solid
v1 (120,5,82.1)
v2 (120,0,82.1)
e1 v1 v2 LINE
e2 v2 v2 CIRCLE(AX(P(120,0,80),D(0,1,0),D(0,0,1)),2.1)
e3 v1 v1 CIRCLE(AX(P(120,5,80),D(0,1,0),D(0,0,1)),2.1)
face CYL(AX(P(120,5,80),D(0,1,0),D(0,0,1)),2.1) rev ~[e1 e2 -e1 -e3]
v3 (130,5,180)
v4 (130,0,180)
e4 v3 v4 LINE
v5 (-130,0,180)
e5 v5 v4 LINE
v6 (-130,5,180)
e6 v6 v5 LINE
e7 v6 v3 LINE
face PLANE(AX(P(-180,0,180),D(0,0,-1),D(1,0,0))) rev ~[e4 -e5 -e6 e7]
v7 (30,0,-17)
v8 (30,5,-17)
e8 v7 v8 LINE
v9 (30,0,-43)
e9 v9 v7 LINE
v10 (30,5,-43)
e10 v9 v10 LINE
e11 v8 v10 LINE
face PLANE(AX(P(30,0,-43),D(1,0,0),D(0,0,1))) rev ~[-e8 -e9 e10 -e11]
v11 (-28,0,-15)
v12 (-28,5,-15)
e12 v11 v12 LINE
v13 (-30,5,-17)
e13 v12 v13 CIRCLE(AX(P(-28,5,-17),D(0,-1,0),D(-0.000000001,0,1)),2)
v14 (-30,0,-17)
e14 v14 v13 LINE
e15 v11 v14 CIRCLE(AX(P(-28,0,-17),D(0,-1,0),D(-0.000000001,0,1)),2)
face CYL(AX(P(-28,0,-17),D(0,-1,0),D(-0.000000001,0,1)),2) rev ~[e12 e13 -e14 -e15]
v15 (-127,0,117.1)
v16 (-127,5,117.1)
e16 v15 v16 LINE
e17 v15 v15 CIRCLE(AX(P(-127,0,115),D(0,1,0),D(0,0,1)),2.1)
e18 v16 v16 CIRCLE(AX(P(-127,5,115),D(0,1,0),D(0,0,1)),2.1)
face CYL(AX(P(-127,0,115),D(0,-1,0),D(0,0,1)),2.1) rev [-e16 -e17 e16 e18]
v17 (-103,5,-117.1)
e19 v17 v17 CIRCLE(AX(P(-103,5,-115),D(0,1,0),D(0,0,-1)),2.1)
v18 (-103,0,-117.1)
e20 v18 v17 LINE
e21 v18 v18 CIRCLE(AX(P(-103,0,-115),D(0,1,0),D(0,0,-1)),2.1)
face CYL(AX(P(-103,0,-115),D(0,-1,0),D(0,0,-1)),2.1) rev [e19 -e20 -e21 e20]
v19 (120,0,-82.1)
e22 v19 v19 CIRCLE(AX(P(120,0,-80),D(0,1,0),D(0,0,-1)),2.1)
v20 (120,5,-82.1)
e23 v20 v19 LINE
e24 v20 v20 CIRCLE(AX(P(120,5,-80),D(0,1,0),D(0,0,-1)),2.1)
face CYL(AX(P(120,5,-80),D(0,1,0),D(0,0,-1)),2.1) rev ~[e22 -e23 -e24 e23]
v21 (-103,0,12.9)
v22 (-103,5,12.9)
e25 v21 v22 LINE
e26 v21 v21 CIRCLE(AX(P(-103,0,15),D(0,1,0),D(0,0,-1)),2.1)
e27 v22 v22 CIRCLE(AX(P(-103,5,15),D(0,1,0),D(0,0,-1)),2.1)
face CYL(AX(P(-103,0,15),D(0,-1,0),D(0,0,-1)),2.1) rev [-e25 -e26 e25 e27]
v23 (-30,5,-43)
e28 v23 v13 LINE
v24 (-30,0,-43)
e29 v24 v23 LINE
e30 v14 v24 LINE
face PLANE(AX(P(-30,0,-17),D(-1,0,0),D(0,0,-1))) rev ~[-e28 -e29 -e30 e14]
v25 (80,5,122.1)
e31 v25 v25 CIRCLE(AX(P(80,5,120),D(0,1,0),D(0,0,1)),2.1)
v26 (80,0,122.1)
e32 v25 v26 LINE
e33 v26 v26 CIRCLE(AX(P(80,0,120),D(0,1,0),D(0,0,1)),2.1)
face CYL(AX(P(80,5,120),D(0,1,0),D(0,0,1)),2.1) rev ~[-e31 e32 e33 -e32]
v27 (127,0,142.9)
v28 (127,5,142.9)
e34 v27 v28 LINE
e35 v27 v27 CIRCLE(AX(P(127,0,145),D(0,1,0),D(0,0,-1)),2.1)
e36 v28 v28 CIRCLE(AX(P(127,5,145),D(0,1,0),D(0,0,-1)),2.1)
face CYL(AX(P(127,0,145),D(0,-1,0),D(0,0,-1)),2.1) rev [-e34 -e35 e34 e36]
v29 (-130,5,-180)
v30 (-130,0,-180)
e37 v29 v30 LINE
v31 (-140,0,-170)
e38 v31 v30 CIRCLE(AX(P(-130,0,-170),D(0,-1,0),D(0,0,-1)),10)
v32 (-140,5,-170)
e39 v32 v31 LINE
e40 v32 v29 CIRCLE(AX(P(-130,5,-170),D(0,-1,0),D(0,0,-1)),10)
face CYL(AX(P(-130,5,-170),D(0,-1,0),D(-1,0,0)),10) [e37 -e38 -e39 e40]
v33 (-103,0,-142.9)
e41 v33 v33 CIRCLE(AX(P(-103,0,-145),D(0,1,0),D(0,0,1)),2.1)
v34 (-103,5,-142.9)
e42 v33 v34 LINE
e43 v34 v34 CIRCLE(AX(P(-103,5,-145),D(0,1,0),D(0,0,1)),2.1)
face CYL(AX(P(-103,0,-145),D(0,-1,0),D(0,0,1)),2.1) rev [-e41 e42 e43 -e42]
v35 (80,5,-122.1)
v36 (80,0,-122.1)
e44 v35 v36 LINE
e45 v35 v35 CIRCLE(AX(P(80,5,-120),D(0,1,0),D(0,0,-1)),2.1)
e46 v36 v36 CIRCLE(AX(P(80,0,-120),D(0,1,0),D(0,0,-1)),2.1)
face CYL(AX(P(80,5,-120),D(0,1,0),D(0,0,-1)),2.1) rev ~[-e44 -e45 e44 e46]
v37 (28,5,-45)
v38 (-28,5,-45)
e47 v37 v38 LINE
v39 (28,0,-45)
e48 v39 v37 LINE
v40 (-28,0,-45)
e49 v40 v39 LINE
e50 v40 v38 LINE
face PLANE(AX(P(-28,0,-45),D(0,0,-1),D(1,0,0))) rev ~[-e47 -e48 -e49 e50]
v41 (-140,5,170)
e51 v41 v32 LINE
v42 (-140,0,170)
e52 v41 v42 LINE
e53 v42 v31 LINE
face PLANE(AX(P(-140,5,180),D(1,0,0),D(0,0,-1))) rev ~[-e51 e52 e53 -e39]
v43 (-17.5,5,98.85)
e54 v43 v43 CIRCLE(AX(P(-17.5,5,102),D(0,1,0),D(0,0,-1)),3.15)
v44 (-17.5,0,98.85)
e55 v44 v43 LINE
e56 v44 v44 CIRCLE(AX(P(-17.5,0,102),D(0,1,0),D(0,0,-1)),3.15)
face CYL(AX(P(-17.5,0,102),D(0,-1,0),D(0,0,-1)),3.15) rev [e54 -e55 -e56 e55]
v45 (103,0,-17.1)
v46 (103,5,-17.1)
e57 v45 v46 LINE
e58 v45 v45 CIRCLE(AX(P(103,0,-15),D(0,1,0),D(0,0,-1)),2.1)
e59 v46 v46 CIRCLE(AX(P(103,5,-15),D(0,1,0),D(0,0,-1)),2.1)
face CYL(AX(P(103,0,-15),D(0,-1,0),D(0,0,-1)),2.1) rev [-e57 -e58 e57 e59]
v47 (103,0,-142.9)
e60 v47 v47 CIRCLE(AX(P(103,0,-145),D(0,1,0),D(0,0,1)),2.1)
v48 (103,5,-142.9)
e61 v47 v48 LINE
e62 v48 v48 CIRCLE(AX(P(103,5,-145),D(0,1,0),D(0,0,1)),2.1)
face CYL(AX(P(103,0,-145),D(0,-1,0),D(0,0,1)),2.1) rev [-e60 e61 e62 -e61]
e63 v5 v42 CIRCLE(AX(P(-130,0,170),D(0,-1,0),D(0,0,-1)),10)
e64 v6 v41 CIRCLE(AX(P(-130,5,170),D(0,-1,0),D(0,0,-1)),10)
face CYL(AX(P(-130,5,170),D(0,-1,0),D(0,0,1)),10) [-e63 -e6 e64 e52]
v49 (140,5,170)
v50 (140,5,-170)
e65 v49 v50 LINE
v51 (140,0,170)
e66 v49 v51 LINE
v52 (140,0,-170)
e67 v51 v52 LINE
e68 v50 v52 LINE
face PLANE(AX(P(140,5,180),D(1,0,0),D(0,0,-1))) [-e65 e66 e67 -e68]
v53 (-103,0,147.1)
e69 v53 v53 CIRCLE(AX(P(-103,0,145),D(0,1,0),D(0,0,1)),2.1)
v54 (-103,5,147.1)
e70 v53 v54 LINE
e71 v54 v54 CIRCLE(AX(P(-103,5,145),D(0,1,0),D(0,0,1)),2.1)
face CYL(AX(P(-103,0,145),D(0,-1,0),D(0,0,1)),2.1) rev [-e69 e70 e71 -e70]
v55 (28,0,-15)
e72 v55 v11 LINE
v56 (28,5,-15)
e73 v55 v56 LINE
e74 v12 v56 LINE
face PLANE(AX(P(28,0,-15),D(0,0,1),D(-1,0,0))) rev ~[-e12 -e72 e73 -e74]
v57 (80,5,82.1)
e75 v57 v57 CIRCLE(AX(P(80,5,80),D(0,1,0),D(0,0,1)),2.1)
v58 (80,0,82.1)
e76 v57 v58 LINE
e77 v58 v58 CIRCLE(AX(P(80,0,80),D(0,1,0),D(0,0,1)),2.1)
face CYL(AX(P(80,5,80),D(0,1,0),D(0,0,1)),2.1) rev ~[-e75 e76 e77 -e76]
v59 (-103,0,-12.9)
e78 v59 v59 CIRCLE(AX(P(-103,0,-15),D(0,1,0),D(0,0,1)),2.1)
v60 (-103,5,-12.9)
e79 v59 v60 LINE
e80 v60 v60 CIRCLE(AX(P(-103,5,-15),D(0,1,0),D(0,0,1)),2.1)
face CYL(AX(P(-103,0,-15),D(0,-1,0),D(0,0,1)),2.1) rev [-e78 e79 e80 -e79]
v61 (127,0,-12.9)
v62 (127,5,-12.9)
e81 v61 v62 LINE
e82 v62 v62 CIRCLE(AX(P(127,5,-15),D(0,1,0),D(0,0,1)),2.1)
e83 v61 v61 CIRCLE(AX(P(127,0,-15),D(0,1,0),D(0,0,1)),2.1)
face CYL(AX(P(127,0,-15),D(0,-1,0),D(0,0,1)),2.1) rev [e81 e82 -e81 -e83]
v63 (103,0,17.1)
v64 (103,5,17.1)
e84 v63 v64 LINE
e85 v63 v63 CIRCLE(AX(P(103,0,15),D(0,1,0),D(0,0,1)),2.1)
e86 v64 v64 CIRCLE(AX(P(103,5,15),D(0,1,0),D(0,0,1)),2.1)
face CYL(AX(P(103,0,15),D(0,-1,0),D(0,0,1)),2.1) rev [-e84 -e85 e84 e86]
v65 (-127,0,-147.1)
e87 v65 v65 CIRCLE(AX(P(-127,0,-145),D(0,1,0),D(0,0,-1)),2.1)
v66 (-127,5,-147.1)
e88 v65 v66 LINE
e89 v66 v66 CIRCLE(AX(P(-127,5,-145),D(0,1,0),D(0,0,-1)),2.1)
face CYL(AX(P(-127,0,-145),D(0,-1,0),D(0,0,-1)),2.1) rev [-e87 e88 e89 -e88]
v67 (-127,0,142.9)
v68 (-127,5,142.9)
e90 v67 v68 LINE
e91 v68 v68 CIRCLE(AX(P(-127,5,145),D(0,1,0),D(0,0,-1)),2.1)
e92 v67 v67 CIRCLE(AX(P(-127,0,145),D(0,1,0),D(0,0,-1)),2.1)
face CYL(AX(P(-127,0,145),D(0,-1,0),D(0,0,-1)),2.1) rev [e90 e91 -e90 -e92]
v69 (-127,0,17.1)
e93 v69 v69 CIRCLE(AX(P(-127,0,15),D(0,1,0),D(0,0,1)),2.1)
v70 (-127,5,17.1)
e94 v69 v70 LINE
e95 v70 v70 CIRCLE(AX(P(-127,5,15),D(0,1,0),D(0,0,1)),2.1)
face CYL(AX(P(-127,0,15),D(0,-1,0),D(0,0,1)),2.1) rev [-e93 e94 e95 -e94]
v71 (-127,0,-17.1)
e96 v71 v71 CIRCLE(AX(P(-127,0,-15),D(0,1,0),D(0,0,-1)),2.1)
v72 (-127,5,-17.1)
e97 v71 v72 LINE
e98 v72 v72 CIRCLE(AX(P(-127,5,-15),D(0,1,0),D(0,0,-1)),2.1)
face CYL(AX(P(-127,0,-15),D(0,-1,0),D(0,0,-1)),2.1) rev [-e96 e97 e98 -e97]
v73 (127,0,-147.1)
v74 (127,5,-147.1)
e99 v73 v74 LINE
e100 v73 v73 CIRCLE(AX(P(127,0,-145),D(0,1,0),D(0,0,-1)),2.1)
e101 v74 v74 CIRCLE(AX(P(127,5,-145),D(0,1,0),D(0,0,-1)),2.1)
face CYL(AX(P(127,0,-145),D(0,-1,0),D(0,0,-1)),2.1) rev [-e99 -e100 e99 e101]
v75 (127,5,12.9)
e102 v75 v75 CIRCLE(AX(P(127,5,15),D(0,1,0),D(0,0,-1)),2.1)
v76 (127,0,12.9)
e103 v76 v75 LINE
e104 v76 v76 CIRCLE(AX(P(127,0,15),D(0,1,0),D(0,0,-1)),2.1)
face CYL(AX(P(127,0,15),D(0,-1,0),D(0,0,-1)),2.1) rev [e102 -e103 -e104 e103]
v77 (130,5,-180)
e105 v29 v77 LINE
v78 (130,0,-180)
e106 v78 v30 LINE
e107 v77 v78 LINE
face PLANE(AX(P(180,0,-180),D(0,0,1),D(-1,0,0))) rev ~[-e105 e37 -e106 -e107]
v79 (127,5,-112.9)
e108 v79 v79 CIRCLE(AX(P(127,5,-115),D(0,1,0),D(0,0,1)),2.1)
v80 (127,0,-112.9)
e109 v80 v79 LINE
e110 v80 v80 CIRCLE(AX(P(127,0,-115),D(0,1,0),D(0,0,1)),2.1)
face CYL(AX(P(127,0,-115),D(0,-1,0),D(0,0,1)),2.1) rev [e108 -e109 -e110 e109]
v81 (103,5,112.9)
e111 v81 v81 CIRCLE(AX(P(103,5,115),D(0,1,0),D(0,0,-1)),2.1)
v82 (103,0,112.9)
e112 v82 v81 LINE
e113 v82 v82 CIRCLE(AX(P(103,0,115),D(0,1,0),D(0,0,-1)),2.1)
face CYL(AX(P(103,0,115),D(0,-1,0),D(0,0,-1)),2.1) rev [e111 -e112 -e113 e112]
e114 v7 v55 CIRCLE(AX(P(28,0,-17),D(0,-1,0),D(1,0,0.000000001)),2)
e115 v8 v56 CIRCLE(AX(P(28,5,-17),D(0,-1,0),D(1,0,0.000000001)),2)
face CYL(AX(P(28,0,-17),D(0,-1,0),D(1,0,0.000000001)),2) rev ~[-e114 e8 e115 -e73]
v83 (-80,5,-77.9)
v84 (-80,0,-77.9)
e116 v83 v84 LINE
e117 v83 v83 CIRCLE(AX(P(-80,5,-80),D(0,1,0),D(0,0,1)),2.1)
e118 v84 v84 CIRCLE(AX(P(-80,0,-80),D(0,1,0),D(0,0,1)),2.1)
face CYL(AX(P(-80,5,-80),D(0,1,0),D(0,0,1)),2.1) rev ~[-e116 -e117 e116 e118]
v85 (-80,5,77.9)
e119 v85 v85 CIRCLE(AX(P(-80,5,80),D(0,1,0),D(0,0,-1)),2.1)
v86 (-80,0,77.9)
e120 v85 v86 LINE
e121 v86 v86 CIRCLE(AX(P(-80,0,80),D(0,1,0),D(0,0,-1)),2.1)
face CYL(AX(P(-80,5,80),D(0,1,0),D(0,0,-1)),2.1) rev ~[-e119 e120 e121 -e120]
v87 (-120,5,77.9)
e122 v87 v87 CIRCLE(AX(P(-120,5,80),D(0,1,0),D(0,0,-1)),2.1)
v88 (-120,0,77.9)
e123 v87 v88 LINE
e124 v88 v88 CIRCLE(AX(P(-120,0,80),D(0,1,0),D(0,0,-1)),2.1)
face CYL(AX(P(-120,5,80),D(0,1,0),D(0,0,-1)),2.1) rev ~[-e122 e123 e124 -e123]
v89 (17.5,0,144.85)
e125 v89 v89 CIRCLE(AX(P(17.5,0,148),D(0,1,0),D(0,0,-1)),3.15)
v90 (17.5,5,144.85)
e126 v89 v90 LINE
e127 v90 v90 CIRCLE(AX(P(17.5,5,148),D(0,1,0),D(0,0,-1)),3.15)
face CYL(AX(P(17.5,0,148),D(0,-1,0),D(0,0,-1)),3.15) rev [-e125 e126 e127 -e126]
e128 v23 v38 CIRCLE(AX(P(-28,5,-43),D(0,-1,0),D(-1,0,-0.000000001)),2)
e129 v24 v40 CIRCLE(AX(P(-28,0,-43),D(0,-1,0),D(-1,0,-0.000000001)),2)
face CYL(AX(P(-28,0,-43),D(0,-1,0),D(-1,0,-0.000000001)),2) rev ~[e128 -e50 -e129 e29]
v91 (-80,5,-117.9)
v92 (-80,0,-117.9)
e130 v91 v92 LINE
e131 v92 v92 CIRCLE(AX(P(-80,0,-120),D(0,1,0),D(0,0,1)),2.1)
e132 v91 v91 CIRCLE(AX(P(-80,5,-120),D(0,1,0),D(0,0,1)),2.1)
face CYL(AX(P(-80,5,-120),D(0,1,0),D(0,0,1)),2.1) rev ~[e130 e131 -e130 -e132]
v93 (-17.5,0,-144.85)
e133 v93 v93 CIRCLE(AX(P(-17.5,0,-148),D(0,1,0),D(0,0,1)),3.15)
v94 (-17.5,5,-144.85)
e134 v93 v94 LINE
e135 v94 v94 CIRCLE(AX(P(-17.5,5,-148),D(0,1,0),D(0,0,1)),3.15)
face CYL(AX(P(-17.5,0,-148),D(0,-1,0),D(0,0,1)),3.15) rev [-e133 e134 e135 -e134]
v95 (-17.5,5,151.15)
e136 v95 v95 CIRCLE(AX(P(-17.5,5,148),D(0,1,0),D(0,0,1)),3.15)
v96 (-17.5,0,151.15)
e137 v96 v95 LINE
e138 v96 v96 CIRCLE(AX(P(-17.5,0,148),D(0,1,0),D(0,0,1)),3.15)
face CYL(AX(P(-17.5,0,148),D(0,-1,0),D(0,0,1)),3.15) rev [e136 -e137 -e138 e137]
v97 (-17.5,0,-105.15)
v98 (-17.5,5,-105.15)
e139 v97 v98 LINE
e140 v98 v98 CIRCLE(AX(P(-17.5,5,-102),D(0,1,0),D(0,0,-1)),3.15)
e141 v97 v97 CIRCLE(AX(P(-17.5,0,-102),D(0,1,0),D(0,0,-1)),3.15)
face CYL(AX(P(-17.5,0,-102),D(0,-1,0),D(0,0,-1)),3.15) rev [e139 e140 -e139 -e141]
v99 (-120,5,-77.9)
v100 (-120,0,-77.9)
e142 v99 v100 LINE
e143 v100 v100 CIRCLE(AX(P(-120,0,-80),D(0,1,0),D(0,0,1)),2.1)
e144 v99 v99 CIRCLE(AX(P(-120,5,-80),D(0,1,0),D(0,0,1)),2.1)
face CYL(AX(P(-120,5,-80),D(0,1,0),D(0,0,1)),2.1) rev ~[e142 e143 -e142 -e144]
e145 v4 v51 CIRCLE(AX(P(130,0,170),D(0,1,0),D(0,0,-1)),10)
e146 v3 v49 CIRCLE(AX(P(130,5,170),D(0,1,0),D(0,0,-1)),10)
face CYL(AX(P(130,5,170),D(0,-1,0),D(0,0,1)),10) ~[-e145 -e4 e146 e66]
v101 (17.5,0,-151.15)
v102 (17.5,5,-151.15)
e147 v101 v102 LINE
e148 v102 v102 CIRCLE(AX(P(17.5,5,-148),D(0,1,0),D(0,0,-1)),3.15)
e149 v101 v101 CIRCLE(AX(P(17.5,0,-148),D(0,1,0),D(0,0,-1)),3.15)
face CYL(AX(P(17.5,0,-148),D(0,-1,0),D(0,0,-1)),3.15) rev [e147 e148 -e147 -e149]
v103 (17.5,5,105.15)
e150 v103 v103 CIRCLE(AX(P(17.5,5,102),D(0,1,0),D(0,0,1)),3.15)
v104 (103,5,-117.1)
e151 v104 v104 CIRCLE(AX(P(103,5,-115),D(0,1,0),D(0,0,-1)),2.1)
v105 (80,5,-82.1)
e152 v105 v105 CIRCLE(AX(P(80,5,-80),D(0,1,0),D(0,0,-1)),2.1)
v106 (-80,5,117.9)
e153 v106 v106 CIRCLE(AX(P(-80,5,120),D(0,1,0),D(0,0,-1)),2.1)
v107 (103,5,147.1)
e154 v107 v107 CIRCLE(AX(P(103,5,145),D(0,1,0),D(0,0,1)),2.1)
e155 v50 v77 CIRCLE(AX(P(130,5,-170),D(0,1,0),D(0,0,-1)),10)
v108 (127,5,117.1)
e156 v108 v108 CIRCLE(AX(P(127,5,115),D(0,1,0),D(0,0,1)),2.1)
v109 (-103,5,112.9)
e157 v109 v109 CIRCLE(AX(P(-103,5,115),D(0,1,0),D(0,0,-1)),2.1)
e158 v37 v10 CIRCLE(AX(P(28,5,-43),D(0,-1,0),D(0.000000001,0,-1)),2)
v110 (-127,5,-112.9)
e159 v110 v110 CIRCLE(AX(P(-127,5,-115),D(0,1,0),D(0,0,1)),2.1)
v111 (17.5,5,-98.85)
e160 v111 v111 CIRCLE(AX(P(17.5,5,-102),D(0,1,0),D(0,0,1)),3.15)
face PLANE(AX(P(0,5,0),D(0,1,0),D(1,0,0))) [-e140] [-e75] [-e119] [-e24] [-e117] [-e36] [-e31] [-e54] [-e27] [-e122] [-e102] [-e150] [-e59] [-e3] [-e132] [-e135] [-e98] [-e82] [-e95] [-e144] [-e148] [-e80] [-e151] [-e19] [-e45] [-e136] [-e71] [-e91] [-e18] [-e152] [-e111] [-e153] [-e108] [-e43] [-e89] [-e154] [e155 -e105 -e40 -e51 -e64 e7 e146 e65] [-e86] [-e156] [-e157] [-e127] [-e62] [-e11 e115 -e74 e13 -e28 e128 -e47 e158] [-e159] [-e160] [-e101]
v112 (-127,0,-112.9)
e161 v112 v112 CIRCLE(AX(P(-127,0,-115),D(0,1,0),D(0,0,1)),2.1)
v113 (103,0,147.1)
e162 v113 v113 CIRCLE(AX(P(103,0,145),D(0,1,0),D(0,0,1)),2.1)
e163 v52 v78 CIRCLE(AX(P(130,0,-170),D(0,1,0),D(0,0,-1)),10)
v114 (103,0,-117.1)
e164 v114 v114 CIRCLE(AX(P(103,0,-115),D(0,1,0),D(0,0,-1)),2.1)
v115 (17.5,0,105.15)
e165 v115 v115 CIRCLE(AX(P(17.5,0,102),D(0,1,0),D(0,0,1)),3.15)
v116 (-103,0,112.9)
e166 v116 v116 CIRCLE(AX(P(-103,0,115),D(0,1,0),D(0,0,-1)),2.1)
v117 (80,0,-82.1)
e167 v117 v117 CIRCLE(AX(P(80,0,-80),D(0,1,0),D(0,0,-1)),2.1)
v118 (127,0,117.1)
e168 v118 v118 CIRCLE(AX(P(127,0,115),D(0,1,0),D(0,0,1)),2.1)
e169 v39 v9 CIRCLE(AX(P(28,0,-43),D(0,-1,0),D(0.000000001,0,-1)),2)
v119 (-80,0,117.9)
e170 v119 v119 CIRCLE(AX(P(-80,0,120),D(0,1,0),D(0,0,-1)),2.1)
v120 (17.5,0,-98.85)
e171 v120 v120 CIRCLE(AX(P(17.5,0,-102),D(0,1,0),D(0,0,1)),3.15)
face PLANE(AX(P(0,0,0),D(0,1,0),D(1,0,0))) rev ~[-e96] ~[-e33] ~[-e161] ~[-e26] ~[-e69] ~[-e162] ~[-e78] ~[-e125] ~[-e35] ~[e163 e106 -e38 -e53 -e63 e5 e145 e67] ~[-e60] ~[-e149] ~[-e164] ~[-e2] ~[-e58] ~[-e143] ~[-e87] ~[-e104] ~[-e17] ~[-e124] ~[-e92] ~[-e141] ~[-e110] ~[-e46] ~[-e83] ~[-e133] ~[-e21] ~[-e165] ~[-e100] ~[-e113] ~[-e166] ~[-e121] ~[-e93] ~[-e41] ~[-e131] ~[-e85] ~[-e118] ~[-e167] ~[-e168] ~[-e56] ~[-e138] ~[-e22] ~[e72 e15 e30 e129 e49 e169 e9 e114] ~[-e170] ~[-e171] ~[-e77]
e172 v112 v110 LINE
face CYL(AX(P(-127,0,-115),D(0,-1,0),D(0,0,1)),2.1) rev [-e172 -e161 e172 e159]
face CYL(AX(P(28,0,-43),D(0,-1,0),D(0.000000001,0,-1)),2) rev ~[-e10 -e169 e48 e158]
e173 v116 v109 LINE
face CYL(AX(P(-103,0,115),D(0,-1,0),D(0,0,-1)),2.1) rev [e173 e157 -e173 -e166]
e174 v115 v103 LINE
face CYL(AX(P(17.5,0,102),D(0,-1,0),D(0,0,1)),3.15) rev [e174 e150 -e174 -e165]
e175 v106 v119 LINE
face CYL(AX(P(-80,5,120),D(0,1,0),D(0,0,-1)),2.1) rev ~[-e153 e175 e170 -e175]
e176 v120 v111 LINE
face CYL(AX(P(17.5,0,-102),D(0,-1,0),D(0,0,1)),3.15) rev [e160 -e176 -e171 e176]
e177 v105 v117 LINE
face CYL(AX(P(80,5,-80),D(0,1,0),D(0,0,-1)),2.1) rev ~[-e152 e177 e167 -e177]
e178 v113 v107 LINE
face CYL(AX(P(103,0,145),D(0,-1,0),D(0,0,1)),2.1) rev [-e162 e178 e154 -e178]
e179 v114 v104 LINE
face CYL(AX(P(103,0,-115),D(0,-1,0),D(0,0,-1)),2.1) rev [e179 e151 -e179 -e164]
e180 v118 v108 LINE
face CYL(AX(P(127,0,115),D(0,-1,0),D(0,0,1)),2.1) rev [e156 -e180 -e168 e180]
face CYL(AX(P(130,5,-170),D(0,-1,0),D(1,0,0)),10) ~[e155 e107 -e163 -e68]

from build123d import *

# Parameters (mm, degrees)
SKETCH_1_R           = 2.1
SKETCH_1_R_2         = 3.15
EXTRUDE_1_DEPTH      = 5
SKETCH_2_OUTSIDE_W   = 463.828
SKETCH_2_OUTSIDE_H   = 463.828
SKETCH_2_OUTSIDE_W_2 = 280
SKETCH_2_OUTSIDE_H_2 = 360
CUT_EXTRUDE_2_DEPTH  = 10
SKETCH_3_R           = 2.1
CUT_EXTRUDE_3_DEPTH  = 229.089894559
CUT_EXTRUDE_5_DEPTH  = 10
FILLET_1_R           = 10


with BuildPart() as part:
    # 草图1 → 凸台-拉伸1 (new body)
    with BuildSketch(Plane(origin=(0, 0, 0), x_dir=(1, 0, 0), z_dir=(0, 1, 0))):
        Polygon((-180, -180), (180, -180), (180, -160), (141, -160), (141, -100), (180, -100), (180, -30), (141, -30), (141, 30), (180, 30), (180, 100), (141, 100), (141, 160), (180, 160), (180, 180), (-180, 180), (-180, 160), (-141, 160), (-141, 100), (-180, 100), (-180, 30), (-141, 30), (-141, -30), (-180, -30), (-180, -100), (-141, -100), (-141, -160), (-180, -160), align=None)
        with Locations(Location((-103, 145, 0), (0, 0, 270))):
            Circle(SKETCH_1_R, mode=Mode.SUBTRACT)
        with Locations(Location((-103, 115, 0), (0, 0, 90))):
            Circle(SKETCH_1_R, mode=Mode.SUBTRACT)
        with Locations(Location((-127, 145, 0), (0, 0, 90))):
            Circle(SKETCH_1_R, mode=Mode.SUBTRACT)
        with Locations(Location((-127, 115, 0), (0, 0, 270))):
            Circle(SKETCH_1_R, mode=Mode.SUBTRACT)
        with Locations(Location((103, 145, 0), (0, 0, 270))):
            Circle(SKETCH_1_R, mode=Mode.SUBTRACT)
        with Locations(Location((103, 115, 0), (0, 0, 90))):
            Circle(SKETCH_1_R, mode=Mode.SUBTRACT)
        with Locations(Location((127, 145, 0), (0, 0, 90))):
            Circle(SKETCH_1_R, mode=Mode.SUBTRACT)
        with Locations(Location((127, 115, 0), (0, 0, 270))):
            Circle(SKETCH_1_R, mode=Mode.SUBTRACT)
        with Locations(Location((127, -115, 0), (0, 0, 270))):
            Circle(SKETCH_1_R, mode=Mode.SUBTRACT)
        with Locations(Location((127, -145, 0), (0, 0, 90))):
            Circle(SKETCH_1_R, mode=Mode.SUBTRACT)
        with Locations(Location((103, -145, 0), (0, 0, 270))):
            Circle(SKETCH_1_R, mode=Mode.SUBTRACT)
        with Locations(Location((103, -115, 0), (0, 0, 90))):
            Circle(SKETCH_1_R, mode=Mode.SUBTRACT)
        with Locations(Location((-127, -115, 0), (0, 0, 270))):
            Circle(SKETCH_1_R, mode=Mode.SUBTRACT)
        with Locations(Location((-103, -115, 0), (0, 0, 90))):
            Circle(SKETCH_1_R, mode=Mode.SUBTRACT)
        with Locations(Location((-103, -145, 0), (0, 0, 270))):
            Circle(SKETCH_1_R, mode=Mode.SUBTRACT)
        with Locations(Location((-127, -145, 0), (0, 0, 90))):
            Circle(SKETCH_1_R, mode=Mode.SUBTRACT)
        with Locations(Location((17.5, -102, 0), (0, 0, 270))):
            Circle(SKETCH_1_R_2, mode=Mode.SUBTRACT)
        with Locations(Location((-17.5, -102, 0), (0, 0, 90))):
            Circle(SKETCH_1_R_2, mode=Mode.SUBTRACT)
        with Locations(Location((-17.5, -148, 0), (0, 0, 270))):
            Circle(SKETCH_1_R_2, mode=Mode.SUBTRACT)
        with Locations(Location((17.5, -148, 0), (0, 0, 90))):
            Circle(SKETCH_1_R_2, mode=Mode.SUBTRACT)
        with Locations(Location((-17.5, 148, 0), (0, 0, 270))):
            Circle(SKETCH_1_R_2, mode=Mode.SUBTRACT)
        with Locations(Location((17.5, 148, 0), (0, 0, 90))):
            Circle(SKETCH_1_R_2, mode=Mode.SUBTRACT)
        with Locations(Location((17.5, 102, 0), (0, 0, 270))):
            Circle(SKETCH_1_R_2, mode=Mode.SUBTRACT)
        with Locations(Location((-17.5, 102, 0), (0, 0, 90))):
            Circle(SKETCH_1_R_2, mode=Mode.SUBTRACT)
        with Locations(Location((-103, 15, 0), (0, 0, 270))):
            Circle(SKETCH_1_R, mode=Mode.SUBTRACT)
        with Locations(Location((-103, -15, 0), (0, 0, 90))):
            Circle(SKETCH_1_R, mode=Mode.SUBTRACT)
        with Locations(Location((-127, 15, 0), (0, 0, 90))):
            Circle(SKETCH_1_R, mode=Mode.SUBTRACT)
        with Locations(Location((-127, -15, 0), (0, 0, 270))):
            Circle(SKETCH_1_R, mode=Mode.SUBTRACT)
        with Locations(Location((127, 15, 0), (0, 0, 270))):
            Circle(SKETCH_1_R, mode=Mode.SUBTRACT)
        with Locations(Location((127, -15, 0), (0, 0, 90))):
            Circle(SKETCH_1_R, mode=Mode.SUBTRACT)
        with Locations(Location((103, 15, 0), (0, 0, 90))):
            Circle(SKETCH_1_R, mode=Mode.SUBTRACT)
        with Locations(Location((103, -15, 0), (0, 0, 270))):
            Circle(SKETCH_1_R, mode=Mode.SUBTRACT)
    extrude(amount=EXTRUDE_1_DEPTH)

    # 草图2 outside → 切除-拉伸2 (cut)
    with BuildSketch(Plane(origin=(0, 5, 0), x_dir=(1, 0, 0), z_dir=(0, 1, 0))):
        Rectangle(SKETCH_2_OUTSIDE_W, SKETCH_2_OUTSIDE_H)
        Rectangle(SKETCH_2_OUTSIDE_W_2, SKETCH_2_OUTSIDE_H_2, mode=Mode.SUBTRACT)
    extrude(amount=-CUT_EXTRUDE_2_DEPTH, mode=Mode.SUBTRACT)

    # 草图3 → 切除-拉伸3 (cut, through all)
    with BuildSketch(Plane(origin=(0, 5, 0), x_dir=(1, 0, 0), z_dir=(0, 1, 0))):
        with Locations(Location((-80, 80, 0), (0, 0, 270))):
            Circle(SKETCH_3_R)
        with Locations(Location((-120, 80, 0), (0, 0, 270))):
            Circle(SKETCH_3_R)
        with Locations(Location((-80, 120, 0), (0, 0, 270))):
            Circle(SKETCH_3_R)
        with Locations(Location((-80, -120, 0), (0, 0, 90))):
            Circle(SKETCH_3_R)
        with Locations(Location((-120, -80, 0), (0, 0, 90))):
            Circle(SKETCH_3_R)
        with Locations(Location((-80, -80, 0), (0, 0, 90))):
            Circle(SKETCH_3_R)
        with Locations(Location((80, -80, 0), (0, 0, 270))):
            Circle(SKETCH_3_R)
        with Locations(Location((120, -80, 0), (0, 0, 270))):
            Circle(SKETCH_3_R)
        with Locations(Location((80, -120, 0), (0, 0, 270))):
            Circle(SKETCH_3_R)
        with Locations(Location((80, 120, 0), (0, 0, 90))):
            Circle(SKETCH_3_R)
        with Locations(Location((120, 80, 0), (0, 0, 90))):
            Circle(SKETCH_3_R)
        with Locations(Location((80, 80, 0), (0, 0, 90))):
            Circle(SKETCH_3_R)
    extrude(amount=-CUT_EXTRUDE_3_DEPTH, mode=Mode.SUBTRACT)

    # 草图5 → 切除-拉伸5 (cut)
    with BuildSketch(Plane.XZ):
        with BuildLine():
            Line((-28, -45), (28, -45))
            ThreePointArc((28, -45), (29.414213562, -44.414213562), (30, -43))
            Line((30, -43), (30, -17))
            ThreePointArc((30, -17), (29.414213562, -15.585786438), (28, -15))
            Line((28, -15), (-28, -15))
            ThreePointArc((-28, -15), (-29.414213562, -15.585786438), (-30, -17))
            Line((-30, -17), (-30, -43))
            ThreePointArc((-30, -43), (-29.414213562, -44.414213562), (-28, -45))
        make_face()
    extrude(amount=-CUT_EXTRUDE_5_DEPTH, mode=Mode.SUBTRACT)

    # 圆角1
    fillet_1_edges = [part.edges().sort_by_distance(p)[0] for p in [
        (-140, 2.5, 180),
        (140, 2.5, 180),
        (-140, 2.5, -180),
        (140, 2.5, -180),
    ]]
    fillet(fillet_1_edges, radius=FILLET_1_R)


solid = part.part
